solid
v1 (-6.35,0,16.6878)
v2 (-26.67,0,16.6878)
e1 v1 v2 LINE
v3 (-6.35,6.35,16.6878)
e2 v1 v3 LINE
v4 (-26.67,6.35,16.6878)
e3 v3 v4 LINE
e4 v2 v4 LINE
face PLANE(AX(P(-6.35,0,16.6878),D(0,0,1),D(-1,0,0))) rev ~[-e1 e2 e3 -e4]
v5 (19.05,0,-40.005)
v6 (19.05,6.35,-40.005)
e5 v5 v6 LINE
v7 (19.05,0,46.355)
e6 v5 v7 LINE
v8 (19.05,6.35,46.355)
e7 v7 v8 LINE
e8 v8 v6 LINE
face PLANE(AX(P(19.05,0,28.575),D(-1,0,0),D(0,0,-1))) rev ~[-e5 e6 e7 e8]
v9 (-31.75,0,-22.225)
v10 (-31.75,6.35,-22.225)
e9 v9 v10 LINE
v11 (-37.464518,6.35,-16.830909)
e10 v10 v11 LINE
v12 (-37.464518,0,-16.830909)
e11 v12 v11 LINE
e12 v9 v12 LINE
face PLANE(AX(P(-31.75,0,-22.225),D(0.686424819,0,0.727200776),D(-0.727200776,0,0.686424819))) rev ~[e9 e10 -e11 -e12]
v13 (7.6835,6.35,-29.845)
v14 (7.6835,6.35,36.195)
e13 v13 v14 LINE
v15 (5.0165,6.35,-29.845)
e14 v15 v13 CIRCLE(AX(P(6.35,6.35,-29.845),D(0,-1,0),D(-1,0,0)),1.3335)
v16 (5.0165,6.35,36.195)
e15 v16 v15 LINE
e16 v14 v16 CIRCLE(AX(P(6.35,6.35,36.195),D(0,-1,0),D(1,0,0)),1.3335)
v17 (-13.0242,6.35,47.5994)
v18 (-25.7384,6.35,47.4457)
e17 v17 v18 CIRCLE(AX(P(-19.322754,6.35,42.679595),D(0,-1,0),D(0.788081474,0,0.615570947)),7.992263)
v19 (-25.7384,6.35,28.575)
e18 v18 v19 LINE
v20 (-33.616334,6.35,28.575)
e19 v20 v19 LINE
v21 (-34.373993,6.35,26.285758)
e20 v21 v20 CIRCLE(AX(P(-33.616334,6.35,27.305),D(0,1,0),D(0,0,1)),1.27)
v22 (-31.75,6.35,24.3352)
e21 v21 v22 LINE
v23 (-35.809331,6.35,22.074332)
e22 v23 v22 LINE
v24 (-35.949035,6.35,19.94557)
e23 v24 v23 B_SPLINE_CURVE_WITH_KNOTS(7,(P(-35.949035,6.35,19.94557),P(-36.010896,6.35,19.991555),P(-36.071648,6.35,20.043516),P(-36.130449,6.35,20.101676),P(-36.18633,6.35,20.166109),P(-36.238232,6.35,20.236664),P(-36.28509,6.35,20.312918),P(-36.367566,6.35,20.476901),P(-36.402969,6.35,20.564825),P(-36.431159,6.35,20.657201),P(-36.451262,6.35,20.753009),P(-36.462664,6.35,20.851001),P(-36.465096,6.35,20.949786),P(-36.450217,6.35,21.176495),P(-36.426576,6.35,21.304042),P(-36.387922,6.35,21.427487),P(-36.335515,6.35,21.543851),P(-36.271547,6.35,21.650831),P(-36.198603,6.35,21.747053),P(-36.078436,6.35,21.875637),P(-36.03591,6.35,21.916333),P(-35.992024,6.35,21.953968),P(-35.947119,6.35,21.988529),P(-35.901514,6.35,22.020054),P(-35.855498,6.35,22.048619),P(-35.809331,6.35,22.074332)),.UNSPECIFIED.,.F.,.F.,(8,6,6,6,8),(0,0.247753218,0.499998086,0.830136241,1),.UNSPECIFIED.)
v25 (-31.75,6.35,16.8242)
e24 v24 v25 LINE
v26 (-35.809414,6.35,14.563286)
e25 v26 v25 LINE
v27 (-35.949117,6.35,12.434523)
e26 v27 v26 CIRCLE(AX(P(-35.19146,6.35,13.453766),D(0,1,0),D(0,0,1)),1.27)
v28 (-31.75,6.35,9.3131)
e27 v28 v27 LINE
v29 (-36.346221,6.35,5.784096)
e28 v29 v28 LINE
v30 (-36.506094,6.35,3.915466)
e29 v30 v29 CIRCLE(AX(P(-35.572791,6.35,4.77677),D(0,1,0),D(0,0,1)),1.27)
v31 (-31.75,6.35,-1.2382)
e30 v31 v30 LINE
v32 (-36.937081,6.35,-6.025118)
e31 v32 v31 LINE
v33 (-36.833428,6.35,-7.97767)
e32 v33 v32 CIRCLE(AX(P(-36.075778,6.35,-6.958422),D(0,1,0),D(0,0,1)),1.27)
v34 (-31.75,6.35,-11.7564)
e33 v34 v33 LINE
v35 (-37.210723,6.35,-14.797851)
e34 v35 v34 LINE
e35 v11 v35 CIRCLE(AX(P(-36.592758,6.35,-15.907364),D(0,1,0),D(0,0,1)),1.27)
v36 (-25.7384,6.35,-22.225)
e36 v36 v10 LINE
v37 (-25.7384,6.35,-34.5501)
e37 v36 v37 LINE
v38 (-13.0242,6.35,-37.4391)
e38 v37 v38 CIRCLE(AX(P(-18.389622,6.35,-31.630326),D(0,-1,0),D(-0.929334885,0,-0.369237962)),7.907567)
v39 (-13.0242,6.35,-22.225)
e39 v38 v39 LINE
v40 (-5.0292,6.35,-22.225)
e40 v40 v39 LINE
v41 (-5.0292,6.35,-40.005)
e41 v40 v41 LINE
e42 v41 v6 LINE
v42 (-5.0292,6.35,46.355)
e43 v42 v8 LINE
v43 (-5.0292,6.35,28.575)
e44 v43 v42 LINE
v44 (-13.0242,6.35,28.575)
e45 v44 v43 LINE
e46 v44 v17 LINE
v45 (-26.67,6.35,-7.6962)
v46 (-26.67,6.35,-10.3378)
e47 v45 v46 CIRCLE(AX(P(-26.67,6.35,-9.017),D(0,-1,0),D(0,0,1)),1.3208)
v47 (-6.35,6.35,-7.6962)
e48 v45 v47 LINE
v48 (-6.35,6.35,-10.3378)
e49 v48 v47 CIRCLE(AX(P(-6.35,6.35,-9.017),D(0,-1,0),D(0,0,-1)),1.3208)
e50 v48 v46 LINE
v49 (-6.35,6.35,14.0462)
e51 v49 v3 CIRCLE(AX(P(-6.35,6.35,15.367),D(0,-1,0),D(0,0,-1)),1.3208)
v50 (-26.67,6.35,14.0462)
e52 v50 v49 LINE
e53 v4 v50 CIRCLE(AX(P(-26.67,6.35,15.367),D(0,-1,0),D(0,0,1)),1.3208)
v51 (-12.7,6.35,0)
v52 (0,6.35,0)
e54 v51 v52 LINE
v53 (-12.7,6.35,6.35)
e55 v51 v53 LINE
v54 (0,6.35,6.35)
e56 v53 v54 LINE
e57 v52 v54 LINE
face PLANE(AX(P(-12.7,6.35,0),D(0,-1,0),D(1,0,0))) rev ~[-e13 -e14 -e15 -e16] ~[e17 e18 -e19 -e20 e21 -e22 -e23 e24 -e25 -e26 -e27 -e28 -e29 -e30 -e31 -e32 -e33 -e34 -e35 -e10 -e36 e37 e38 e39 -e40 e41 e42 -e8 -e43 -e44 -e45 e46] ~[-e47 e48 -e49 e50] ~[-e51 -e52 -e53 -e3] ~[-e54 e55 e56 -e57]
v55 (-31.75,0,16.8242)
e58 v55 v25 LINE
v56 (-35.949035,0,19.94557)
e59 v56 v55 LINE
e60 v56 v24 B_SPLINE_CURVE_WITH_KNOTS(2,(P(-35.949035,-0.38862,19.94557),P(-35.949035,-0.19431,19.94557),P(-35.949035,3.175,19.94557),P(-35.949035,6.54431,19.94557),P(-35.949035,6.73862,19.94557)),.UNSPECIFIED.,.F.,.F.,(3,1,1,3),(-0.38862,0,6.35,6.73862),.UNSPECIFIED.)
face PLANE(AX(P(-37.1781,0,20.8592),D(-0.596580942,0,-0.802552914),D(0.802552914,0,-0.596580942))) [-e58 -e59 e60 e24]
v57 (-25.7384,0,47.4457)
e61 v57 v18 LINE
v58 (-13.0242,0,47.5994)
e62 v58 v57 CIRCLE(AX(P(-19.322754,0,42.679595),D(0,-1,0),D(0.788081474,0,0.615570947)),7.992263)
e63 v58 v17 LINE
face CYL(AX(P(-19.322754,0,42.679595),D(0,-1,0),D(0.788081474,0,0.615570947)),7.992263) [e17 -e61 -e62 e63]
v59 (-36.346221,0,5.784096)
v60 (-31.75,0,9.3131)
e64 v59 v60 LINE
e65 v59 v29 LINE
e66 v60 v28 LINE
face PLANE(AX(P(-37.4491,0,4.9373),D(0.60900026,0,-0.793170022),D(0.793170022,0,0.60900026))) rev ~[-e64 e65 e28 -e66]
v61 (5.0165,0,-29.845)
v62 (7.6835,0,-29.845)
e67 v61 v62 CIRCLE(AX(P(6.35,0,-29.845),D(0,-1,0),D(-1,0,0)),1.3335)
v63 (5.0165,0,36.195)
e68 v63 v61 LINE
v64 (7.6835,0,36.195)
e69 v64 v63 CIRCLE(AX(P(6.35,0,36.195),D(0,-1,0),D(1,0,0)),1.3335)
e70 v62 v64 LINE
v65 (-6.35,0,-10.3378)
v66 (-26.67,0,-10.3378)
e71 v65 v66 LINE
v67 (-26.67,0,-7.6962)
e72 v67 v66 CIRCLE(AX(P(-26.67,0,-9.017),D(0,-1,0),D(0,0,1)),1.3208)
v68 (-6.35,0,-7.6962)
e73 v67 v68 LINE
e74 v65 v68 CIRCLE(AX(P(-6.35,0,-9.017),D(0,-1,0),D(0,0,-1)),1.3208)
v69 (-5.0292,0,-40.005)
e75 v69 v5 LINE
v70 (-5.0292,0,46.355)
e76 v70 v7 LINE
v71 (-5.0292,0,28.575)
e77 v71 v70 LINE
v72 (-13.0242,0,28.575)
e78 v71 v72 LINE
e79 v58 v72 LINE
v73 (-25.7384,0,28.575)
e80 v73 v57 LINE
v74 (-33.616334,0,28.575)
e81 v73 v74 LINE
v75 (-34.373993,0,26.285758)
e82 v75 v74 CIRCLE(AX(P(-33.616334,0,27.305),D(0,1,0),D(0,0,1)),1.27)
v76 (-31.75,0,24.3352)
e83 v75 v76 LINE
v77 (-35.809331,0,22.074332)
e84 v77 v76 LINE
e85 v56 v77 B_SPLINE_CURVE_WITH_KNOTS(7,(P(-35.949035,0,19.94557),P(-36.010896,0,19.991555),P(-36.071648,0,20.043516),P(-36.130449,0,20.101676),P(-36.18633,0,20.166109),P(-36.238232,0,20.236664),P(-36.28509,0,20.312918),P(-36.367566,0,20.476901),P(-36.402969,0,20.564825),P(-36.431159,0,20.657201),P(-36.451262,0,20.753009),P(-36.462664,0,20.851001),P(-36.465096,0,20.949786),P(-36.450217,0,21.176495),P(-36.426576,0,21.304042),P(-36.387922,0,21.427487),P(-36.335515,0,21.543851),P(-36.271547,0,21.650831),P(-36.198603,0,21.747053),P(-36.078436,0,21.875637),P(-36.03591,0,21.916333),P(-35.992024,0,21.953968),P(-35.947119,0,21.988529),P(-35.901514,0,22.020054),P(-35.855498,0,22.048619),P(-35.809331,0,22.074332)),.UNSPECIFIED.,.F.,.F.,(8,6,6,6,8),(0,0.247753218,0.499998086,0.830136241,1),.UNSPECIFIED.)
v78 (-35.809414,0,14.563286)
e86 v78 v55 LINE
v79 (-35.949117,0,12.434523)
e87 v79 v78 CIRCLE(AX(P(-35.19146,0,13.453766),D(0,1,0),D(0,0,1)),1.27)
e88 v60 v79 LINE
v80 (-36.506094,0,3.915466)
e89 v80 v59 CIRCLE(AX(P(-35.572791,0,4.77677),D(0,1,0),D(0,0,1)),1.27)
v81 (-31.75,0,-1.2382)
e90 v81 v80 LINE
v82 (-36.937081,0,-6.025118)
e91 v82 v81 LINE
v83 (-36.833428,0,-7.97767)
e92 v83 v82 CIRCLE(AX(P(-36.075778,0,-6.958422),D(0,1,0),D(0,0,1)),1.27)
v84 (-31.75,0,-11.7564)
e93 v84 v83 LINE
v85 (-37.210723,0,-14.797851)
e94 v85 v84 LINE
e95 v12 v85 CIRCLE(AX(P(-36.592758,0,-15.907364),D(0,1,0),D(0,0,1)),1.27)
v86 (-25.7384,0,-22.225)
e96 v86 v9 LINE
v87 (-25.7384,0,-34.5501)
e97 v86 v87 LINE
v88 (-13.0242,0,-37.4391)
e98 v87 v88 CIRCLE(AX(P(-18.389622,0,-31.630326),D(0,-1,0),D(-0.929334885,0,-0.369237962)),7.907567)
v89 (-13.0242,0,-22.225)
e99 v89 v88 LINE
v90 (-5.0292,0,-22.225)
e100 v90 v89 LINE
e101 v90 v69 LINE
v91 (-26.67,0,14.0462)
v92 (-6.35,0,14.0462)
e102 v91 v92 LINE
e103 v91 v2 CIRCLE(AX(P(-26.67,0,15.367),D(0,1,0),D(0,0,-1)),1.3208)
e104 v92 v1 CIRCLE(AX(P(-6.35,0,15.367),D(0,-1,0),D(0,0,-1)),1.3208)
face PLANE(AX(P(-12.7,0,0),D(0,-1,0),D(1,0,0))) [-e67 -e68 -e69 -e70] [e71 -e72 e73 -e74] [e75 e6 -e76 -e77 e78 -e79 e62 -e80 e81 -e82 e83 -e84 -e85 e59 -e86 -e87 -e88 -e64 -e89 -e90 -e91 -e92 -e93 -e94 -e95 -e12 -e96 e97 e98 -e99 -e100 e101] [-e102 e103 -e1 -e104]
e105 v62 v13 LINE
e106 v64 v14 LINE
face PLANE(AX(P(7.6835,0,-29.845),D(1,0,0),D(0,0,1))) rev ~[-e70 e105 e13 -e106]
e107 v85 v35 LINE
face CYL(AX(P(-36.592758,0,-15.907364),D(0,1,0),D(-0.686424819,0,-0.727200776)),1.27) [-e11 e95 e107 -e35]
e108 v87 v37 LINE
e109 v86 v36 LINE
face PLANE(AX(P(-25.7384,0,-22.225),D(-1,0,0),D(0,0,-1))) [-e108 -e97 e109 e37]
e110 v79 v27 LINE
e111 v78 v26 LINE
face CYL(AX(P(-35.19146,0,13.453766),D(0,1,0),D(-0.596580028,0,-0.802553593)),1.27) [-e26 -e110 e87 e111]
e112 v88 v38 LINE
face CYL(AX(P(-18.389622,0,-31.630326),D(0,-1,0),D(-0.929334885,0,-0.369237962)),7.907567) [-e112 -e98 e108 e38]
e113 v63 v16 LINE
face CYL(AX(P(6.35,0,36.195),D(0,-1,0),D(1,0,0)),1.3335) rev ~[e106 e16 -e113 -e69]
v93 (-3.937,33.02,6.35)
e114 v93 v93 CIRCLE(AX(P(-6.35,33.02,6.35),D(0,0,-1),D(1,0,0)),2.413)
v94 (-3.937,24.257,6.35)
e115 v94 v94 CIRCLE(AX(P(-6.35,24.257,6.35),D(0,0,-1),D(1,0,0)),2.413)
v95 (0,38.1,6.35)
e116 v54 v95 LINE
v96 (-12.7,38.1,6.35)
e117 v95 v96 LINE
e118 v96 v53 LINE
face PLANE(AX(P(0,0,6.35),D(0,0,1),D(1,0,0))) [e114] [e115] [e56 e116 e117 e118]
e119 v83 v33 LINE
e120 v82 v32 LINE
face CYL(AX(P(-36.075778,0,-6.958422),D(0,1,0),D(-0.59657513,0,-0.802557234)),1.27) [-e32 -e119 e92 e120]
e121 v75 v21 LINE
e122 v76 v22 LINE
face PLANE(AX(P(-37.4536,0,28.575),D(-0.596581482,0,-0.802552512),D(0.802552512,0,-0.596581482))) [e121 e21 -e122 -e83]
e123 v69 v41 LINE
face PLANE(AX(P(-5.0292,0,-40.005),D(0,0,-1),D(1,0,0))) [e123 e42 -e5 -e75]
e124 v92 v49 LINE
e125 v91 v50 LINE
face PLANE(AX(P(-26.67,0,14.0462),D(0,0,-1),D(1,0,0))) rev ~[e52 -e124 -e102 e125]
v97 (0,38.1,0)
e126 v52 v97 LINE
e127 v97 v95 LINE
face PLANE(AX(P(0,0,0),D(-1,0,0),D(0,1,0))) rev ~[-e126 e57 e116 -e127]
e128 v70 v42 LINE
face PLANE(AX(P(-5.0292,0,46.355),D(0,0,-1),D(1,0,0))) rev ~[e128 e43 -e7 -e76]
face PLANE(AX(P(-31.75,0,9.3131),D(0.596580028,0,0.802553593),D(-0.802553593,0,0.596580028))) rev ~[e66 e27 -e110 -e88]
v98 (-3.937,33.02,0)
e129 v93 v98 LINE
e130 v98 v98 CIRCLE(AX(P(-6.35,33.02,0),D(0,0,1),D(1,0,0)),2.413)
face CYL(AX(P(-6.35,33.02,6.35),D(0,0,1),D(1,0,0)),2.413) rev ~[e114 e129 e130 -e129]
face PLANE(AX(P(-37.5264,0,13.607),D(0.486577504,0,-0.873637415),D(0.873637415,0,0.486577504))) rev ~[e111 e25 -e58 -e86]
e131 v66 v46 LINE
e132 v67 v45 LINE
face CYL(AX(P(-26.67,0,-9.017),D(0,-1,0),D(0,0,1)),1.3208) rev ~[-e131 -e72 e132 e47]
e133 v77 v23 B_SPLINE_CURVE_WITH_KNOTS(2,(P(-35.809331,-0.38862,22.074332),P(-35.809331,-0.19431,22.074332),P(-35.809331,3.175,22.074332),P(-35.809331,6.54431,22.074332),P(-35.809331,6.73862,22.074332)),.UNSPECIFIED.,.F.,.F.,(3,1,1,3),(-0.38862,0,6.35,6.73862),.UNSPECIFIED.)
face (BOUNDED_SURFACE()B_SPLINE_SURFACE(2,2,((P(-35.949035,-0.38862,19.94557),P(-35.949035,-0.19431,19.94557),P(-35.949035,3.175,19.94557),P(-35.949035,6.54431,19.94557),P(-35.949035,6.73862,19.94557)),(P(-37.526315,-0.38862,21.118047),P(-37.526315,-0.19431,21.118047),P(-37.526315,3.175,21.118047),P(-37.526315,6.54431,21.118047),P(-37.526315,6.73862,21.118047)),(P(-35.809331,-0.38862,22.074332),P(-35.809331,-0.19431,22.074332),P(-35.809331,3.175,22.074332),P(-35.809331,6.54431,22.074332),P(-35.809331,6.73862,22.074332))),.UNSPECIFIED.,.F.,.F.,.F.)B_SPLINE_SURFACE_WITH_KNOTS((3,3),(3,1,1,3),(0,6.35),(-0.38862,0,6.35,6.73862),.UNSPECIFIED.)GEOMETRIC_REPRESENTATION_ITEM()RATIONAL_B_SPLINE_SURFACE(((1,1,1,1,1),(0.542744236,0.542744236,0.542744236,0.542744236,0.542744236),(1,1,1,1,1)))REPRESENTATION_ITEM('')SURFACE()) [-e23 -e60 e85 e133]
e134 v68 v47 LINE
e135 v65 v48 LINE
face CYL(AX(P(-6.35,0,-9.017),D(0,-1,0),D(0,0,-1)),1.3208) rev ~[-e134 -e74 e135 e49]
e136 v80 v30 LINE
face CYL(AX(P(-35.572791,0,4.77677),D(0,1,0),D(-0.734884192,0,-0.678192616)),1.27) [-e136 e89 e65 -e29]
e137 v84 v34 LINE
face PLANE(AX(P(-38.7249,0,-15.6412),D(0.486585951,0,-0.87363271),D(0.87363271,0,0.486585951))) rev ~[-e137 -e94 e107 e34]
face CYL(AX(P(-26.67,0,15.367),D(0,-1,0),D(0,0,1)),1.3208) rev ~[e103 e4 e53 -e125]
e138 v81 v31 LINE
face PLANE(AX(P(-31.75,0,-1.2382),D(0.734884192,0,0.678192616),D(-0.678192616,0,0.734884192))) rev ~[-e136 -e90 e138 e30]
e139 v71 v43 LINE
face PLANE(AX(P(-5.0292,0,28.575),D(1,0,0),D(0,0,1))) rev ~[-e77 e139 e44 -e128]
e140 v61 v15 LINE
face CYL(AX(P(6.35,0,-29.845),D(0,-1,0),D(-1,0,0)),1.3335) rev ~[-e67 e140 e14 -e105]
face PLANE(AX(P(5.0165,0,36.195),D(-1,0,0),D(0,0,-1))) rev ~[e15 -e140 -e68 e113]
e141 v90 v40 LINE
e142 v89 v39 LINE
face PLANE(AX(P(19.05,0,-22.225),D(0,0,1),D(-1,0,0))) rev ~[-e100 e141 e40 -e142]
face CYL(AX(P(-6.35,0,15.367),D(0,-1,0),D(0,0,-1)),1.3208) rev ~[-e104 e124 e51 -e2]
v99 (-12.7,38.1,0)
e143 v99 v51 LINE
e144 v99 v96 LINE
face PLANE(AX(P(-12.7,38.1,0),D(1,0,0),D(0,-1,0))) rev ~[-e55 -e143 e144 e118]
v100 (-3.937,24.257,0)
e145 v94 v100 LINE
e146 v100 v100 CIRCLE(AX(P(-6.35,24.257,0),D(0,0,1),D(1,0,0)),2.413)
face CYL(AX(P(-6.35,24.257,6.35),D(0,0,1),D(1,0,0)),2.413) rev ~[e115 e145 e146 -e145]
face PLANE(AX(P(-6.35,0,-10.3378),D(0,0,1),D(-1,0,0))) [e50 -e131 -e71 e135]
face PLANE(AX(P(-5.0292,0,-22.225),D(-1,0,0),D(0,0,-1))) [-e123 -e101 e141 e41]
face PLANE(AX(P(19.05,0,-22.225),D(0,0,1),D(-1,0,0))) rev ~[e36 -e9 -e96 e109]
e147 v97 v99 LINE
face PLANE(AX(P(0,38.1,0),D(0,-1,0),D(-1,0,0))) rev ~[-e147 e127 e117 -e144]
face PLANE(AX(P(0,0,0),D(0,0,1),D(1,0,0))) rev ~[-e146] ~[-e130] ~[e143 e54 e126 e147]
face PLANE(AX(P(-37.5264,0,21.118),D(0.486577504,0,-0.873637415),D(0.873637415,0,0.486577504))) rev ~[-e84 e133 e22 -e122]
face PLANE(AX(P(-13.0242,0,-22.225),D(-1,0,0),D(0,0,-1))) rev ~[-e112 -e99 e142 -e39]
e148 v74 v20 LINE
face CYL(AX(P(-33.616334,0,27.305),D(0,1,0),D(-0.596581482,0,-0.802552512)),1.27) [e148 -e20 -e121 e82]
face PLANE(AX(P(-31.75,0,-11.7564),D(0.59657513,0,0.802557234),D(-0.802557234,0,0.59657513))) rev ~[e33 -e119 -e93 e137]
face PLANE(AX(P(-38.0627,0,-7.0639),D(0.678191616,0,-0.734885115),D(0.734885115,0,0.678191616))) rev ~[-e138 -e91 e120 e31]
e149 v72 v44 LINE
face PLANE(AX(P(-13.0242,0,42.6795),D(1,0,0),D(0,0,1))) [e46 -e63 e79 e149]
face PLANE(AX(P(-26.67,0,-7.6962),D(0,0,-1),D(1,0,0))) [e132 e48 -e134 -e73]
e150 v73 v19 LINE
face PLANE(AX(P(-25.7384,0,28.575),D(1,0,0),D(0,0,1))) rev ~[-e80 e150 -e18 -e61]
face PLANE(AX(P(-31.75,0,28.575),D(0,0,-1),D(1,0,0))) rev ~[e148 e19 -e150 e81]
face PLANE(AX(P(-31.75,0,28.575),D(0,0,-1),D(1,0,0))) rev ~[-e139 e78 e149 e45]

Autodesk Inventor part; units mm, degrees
ref_plane "YZ Plane" through (0, 0, 0) normal (1, 0, 0) x (0, 1, 0)
ref_plane "XZ Plane" through (0, 0, 0) normal (0, 1, 0) x (-1, 0, 0)
ref_plane "XY Plane" through (0, 0, 0) normal (0, 0, 1) x (1, 0, 0)
sketch "Sketch1" plane through (0, 0, 0) normal (0, 0, 1) x (1, 0, 0)
  line L0 (0, 0) -> (0, 38.1)
  line L1 (0, 38.1) -> (-12.7, 38.1)
  line L2 (-12.7, 38.1) -> (-12.7, 0)
  line L3 (-12.7, 0) -> (0, 0)
  dimension "d0" = 38.1
  dimension "d1" = 12.7
extrude "Extrusion1" add sketch "Sketch1" along normal blind 6.35
sketch "Sketch2" plane through (0, 0, 6.35) normal (0, 0, 1) x (1, 0, 0)
  line L0 (0, 38.1) -> (-12.7, 38.1) projected
  line L1 (-12.7, 38.1) -> (-12.7, 0) projected
  line L2 (-12.7, 0) -> (0, 0) projected
  line L3 (0, 0) -> (0, 38.1) projected
  line L4 (-6.35, 38.1) -> (-6.35, 0) construction
  line L5 (-6.35, 38.1) -> (-6.35, 33.02)
  circle A0 centre (-6.35, 33.02) radius 2.413
  line L6 (-6.35, 33.02) -> (-6.35, 24.257)
  circle A1 centre (-6.35, 24.257) radius 2.413
  dimension "d4" = 5.08
  dimension "d5" = 4.826
  dimension "d6" = 8.763
  dimension "d7" = 4.826
extrude "Extrusion2" cut sketch "Sketch2" against normal up to next contours A1 | A0 L6 L5 | L5 L6 A0
sketch "Sketch3" plane through (-12.7, 0, 0) normal (0, -1, 0) x (1, 0, 0)
  line L0 (0, 0) -> (12.7, 0) projected
  line L1 (12.7, 0) -> (12.7, 6.35) projected
  line L2 (0, 6.35) -> (12.7, 6.35) projected
  line L3 (0, 0) -> (0, 6.35) projected
  line L4 (0, 3.175) -> (12.7, 3.175) construction
  line L5 (6.35, 6.35) -> (6.35, 0) construction
  line L6 (-19.05, -22.225) -> (-19.05, 28.575)
  line L7 (-19.05, 28.575) -> (31.75, 28.575)
  line L8 (31.75, 28.575) -> (31.75, -22.225)
  line L9 (31.75, -22.225) -> (-19.05, -22.225)
  line L10 (-19.05, -22.225) -> (31.75, 28.575) construction
  line L11 (-19.05, 28.575) -> (31.75, -22.225) construction
  point P0 (6.35, 3.175)
  dimension "d10" = 50.8
  dimension "d11" = 50.8
extrude "Extrusion3" add sketch "Sketch3" against normal blind 6.35
sketch "Sketch4" plane through (-31.75, 0, 28.575) normal (0, -1, 0) x (1, 0, 0)
  line L0 (50.8, -50.8) -> (50.8, 0) projected
  line L1 (50.8, 0) -> (0, 0) projected
  line L2 (0, 0) -> (0, -50.8) projected
  line L3 (0, -50.8) -> (50.8, -50.8) projected
  line L4 (0, -25.4) -> (50.8, -25.4) construction
  line L5 (0, -25.4) -> (0, -13.208)
  line L6 (0, -13.208) -> (5.08, -13.208)
  line L7 (5.08, -13.208) -> (25.4, -13.208) construction
  line L8 (5.08, -14.5288) -> (25.4, -14.5288)
  line L9 (25.4, -11.8872) -> (5.08, -11.8872)
  arc A0 (5.08, -11.8872) -> (5.08, -14.5288) centre (5.08, -13.208) ccw
  arc A1 (25.4, -14.5288) -> (25.4, -11.8872) centre (25.4, -13.208) ccw
  line L10 (5.08, -36.2712) -> (25.4, -36.2712)
  line L11 (25.4, -38.9128) -> (5.08, -38.9128)
  arc A2 (5.08, -36.2712) -> (5.08, -38.9128) centre (5.08, -37.592) ccw
  arc A3 (25.4, -38.9128) -> (25.4, -36.2712) centre (25.4, -37.592) ccw
  point P0 (31.75, -28.575)
  point P1 (15.24, -13.208)
  dimension "d14" = 12.192
  dimension "d16" = 5.08
  dimension "d17" = 20.32
  dimension "d18" = 2.6416
extrude "Extrusion4" cut sketch "Sketch4" against normal blind 6.35 contours A0 L9 A1 L8 | L10 A3 L11 A2
sketch "Sketch6" plane through (-31.75, 0, 28.575) normal (0, -1, 0) x (1, 0, 0)
  line L0 (25.4, -14.5288) -> (5.08, -14.5288) projected
  arc A0 (5.08, -11.8872) -> (5.08, -14.5288) centre (5.08, -13.208) ccw projected
  line L1 (5.08, -11.8872) -> (25.4, -11.8872) projected
  arc A1 (25.4, -14.5288) -> (25.4, -11.8872) centre (25.4, -13.208) ccw projected
  arc A2 (5.08, -36.2712) -> (5.08, -38.9128) centre (5.08, -37.592) ccw projected
  line L2 (5.08, -36.2712) -> (25.4, -36.2712) projected
  arc A3 (25.4, -38.9128) -> (25.4, -36.2712) centre (25.4, -37.592) ccw projected
  line L3 (25.4, -38.9128) -> (5.08, -38.9128) projected
  line L4 (50.8, -50.8) -> (50.8, 0) projected
  line L5 (50.8, 0) -> (0, 0) projected
  line L6 (0, 0) -> (0, -50.8) projected
  line L7 (0, -50.8) -> (50.8, -50.8) projected
  line L8 (26.7208, -13.208) -> (26.7208, -50.8)
  line L9 (26.7208, -13.208) -> (26.7208, 0)
  line L10 (26.7208, 0) -> (26.7208, 17.78)
  line L11 (26.7208, -50.8) -> (26.7208, -68.58)
  line L12 (26.7208, 17.78) -> (50.8, 17.78)
  line L13 (50.8, 17.78) -> (50.8, 0)
  line L14 (26.7208, -68.58) -> (50.8, -68.58)
  line L15 (50.8, -68.58) -> (50.8, -50.8)
  point P0 (31.75, -28.575)
  dimension "d23" = 17.78
  dimension "d24" = 17.78
extrude "Extrusion5" add sketch "Sketch6" against normal blind 6.35 contours L10 L12 L13 L5 | L7 L15 L14 L11
sketch "Sketch7" plane through (-31.75, 0, -22.225) normal (0, -1, 0) x (1, 0, 0)
  line L0 (25.4, 36.2712) -> (5.08, 36.2712) projected
  arc A0 (5.08, 38.9128) -> (5.08, 36.2712) centre (5.08, 37.592) ccw projected
  line L1 (5.08, 38.9128) -> (25.4, 38.9128) projected
  arc A1 (25.4, 36.2712) -> (25.4, 38.9128) centre (25.4, 37.592) ccw projected
  arc A2 (5.08, 14.5288) -> (5.08, 11.8872) centre (5.08, 13.208) ccw projected
  line L2 (5.08, 14.5288) -> (25.4, 14.5288) projected
  arc A3 (25.4, 11.8872) -> (25.4, 14.5288) centre (25.4, 13.208) ccw projected
  line L3 (25.4, 11.8872) -> (5.08, 11.8872) projected
  line L4 (50.8, -17.78) -> (50.8, 68.58) projected
  line L5 (50.8, 68.58) -> (26.7208, 68.58) projected
  line L6 (26.7208, 68.58) -> (26.7208, 50.8) projected
  line L7 (26.7208, 50.8) -> (0, 50.8) projected
  line L8 (0, 50.8) -> (0, 0) projected
  line L9 (0, 0) -> (26.7208, 0) projected
  line L10 (26.7208, 0) -> (26.7208, -17.78) projected
  line L11 (26.7208, -17.78) -> (50.8, -17.78) projected
  line L12 (25.4, 37.592) -> (25.4, 13.208) construction
  line L13 (25.4, 25.4) -> (50.8, 25.4) construction
  line L14 (38.1, -7.62) -> (38.1, 58.42) construction
  line L15 (39.4335, -7.62) -> (39.4335, 58.42)
  line L16 (36.7665, 58.42) -> (36.7665, -7.62)
  arc A4 (36.7665, -7.62) -> (39.4335, -7.62) centre (38.1, -7.62) ccw
  arc A5 (39.4335, 58.42) -> (36.7665, 58.42) centre (38.1, 58.42) ccw
  point P0 (31.75, 22.225)
  point P1 (38.1, 25.4)
  dimension "d27" = 33.02
  dimension "d28" = 2.667
extrude "Extrusion6" cut sketch "Sketch7" against normal blind 6.35 contours A4 L16 A5 L15
sketch "Sketch8" plane through (-31.75, 0, -22.225) normal (0, -1, 0) x (1, 0, 0)
  line L0 (0, 0) -> (0, 50.8) projected
  line L1 (0, 0) -> (-6.9749, 6.5838)
  line L2 (-6.9749, 6.5838) -> (0, 10.4686)
  line L3 (0, 10.4686) -> (-6.3127, 15.1611)
  line L4 (-6.3127, 15.1611) -> (0, 20.9868)
  line L5 (-5.6991, 27.1623) -> (0, 31.5381)
  line L6 (0, 20.9868) -> (-5.6991, 27.1623)
  line L7 (0, 31.5381) -> (-5.7764, 35.832)
  line L8 (-5.7764, 35.832) -> (0, 39.0492)
  line L9 (-5.4281, 43.0842) -> (0, 39.0492)
  line L10 (-5.7764, 43.343) -> (0, 46.5602)
  line L11 (-5.7036, 50.8) -> (0, 50.8)
  line L12 (0, 50.8) -> (0, 46.5602)
  line L13 (-5.7036, 50.8) -> (0, 46.5602)
  line L14 (-5.7764, 43.343) -> (0, 39.0492)
  point P0 (31.75, 22.225)
  point P1 (-5.4281, 43.0842)
extrude "Extrusion7" add sketch "Sketch8" against normal blind 6.35
fillet "Fillet1" radius 1.27 1 edges at (-38.7249, 3.175, -15.6412)
fillet "Fillet2" radius 1.27 1 edges at (-38.0627, 3.175, -7.0639)
fillet "Fillet3" radius 1.27 4 edges at (-37.4491, 3.175, 4.9373) (-37.5264, 3.175, 13.607) (-37.5264, 3.175, 21.118) (-37.4536, 3.175, 28.575)
sketch "Sketch9" plane through (-5.0292, 0, -40.005) normal (0, -1, 0) x (1, 0, 0)
  line L0 (-26.7208, 17.78) -> (0, 17.78) projected
  line L1 (-7.995, 17.78) -> (-7.995, 5.2737)
  line L2 (-20.7092, 17.78) -> (-20.7092, 5.4549)
  arc A0 (-20.7092, 5.4549) -> (-7.995, 2.5659) centre (-13.3604, 8.3747) ccw
  line L3 (-7.995, 5.2737) -> (-7.995, 2.5659)
  line L4 (24.0792, 0) -> (24.0792, 86.36) projected
  line L5 (24.0792, 43.18) -> (-30.9425, 43.18) construction
  line L6 (-28.5871, 68.58) -> (0, 68.58) projected
  line L7 (-7.995, 68.58) -> (-7.995, 82.6845)
  line L8 (-20.7092, 68.58) -> (-20.7092, 82.6845)
  line L9 (-20.7092, 82.6845) -> (-20.7092, 87.4507)
  line L10 (-7.995, 82.6845) -> (-7.995, 87.6044)
  arc A1 (-7.995, 87.6044) -> (-20.7092, 87.4507) centre (-14.2936, 82.6845) ccw
  point P0 (5.0292, 40.005)
extrude "Extrusion8" add sketch "Sketch9" against normal blind 6.35
properties part number "camera_cutout"
